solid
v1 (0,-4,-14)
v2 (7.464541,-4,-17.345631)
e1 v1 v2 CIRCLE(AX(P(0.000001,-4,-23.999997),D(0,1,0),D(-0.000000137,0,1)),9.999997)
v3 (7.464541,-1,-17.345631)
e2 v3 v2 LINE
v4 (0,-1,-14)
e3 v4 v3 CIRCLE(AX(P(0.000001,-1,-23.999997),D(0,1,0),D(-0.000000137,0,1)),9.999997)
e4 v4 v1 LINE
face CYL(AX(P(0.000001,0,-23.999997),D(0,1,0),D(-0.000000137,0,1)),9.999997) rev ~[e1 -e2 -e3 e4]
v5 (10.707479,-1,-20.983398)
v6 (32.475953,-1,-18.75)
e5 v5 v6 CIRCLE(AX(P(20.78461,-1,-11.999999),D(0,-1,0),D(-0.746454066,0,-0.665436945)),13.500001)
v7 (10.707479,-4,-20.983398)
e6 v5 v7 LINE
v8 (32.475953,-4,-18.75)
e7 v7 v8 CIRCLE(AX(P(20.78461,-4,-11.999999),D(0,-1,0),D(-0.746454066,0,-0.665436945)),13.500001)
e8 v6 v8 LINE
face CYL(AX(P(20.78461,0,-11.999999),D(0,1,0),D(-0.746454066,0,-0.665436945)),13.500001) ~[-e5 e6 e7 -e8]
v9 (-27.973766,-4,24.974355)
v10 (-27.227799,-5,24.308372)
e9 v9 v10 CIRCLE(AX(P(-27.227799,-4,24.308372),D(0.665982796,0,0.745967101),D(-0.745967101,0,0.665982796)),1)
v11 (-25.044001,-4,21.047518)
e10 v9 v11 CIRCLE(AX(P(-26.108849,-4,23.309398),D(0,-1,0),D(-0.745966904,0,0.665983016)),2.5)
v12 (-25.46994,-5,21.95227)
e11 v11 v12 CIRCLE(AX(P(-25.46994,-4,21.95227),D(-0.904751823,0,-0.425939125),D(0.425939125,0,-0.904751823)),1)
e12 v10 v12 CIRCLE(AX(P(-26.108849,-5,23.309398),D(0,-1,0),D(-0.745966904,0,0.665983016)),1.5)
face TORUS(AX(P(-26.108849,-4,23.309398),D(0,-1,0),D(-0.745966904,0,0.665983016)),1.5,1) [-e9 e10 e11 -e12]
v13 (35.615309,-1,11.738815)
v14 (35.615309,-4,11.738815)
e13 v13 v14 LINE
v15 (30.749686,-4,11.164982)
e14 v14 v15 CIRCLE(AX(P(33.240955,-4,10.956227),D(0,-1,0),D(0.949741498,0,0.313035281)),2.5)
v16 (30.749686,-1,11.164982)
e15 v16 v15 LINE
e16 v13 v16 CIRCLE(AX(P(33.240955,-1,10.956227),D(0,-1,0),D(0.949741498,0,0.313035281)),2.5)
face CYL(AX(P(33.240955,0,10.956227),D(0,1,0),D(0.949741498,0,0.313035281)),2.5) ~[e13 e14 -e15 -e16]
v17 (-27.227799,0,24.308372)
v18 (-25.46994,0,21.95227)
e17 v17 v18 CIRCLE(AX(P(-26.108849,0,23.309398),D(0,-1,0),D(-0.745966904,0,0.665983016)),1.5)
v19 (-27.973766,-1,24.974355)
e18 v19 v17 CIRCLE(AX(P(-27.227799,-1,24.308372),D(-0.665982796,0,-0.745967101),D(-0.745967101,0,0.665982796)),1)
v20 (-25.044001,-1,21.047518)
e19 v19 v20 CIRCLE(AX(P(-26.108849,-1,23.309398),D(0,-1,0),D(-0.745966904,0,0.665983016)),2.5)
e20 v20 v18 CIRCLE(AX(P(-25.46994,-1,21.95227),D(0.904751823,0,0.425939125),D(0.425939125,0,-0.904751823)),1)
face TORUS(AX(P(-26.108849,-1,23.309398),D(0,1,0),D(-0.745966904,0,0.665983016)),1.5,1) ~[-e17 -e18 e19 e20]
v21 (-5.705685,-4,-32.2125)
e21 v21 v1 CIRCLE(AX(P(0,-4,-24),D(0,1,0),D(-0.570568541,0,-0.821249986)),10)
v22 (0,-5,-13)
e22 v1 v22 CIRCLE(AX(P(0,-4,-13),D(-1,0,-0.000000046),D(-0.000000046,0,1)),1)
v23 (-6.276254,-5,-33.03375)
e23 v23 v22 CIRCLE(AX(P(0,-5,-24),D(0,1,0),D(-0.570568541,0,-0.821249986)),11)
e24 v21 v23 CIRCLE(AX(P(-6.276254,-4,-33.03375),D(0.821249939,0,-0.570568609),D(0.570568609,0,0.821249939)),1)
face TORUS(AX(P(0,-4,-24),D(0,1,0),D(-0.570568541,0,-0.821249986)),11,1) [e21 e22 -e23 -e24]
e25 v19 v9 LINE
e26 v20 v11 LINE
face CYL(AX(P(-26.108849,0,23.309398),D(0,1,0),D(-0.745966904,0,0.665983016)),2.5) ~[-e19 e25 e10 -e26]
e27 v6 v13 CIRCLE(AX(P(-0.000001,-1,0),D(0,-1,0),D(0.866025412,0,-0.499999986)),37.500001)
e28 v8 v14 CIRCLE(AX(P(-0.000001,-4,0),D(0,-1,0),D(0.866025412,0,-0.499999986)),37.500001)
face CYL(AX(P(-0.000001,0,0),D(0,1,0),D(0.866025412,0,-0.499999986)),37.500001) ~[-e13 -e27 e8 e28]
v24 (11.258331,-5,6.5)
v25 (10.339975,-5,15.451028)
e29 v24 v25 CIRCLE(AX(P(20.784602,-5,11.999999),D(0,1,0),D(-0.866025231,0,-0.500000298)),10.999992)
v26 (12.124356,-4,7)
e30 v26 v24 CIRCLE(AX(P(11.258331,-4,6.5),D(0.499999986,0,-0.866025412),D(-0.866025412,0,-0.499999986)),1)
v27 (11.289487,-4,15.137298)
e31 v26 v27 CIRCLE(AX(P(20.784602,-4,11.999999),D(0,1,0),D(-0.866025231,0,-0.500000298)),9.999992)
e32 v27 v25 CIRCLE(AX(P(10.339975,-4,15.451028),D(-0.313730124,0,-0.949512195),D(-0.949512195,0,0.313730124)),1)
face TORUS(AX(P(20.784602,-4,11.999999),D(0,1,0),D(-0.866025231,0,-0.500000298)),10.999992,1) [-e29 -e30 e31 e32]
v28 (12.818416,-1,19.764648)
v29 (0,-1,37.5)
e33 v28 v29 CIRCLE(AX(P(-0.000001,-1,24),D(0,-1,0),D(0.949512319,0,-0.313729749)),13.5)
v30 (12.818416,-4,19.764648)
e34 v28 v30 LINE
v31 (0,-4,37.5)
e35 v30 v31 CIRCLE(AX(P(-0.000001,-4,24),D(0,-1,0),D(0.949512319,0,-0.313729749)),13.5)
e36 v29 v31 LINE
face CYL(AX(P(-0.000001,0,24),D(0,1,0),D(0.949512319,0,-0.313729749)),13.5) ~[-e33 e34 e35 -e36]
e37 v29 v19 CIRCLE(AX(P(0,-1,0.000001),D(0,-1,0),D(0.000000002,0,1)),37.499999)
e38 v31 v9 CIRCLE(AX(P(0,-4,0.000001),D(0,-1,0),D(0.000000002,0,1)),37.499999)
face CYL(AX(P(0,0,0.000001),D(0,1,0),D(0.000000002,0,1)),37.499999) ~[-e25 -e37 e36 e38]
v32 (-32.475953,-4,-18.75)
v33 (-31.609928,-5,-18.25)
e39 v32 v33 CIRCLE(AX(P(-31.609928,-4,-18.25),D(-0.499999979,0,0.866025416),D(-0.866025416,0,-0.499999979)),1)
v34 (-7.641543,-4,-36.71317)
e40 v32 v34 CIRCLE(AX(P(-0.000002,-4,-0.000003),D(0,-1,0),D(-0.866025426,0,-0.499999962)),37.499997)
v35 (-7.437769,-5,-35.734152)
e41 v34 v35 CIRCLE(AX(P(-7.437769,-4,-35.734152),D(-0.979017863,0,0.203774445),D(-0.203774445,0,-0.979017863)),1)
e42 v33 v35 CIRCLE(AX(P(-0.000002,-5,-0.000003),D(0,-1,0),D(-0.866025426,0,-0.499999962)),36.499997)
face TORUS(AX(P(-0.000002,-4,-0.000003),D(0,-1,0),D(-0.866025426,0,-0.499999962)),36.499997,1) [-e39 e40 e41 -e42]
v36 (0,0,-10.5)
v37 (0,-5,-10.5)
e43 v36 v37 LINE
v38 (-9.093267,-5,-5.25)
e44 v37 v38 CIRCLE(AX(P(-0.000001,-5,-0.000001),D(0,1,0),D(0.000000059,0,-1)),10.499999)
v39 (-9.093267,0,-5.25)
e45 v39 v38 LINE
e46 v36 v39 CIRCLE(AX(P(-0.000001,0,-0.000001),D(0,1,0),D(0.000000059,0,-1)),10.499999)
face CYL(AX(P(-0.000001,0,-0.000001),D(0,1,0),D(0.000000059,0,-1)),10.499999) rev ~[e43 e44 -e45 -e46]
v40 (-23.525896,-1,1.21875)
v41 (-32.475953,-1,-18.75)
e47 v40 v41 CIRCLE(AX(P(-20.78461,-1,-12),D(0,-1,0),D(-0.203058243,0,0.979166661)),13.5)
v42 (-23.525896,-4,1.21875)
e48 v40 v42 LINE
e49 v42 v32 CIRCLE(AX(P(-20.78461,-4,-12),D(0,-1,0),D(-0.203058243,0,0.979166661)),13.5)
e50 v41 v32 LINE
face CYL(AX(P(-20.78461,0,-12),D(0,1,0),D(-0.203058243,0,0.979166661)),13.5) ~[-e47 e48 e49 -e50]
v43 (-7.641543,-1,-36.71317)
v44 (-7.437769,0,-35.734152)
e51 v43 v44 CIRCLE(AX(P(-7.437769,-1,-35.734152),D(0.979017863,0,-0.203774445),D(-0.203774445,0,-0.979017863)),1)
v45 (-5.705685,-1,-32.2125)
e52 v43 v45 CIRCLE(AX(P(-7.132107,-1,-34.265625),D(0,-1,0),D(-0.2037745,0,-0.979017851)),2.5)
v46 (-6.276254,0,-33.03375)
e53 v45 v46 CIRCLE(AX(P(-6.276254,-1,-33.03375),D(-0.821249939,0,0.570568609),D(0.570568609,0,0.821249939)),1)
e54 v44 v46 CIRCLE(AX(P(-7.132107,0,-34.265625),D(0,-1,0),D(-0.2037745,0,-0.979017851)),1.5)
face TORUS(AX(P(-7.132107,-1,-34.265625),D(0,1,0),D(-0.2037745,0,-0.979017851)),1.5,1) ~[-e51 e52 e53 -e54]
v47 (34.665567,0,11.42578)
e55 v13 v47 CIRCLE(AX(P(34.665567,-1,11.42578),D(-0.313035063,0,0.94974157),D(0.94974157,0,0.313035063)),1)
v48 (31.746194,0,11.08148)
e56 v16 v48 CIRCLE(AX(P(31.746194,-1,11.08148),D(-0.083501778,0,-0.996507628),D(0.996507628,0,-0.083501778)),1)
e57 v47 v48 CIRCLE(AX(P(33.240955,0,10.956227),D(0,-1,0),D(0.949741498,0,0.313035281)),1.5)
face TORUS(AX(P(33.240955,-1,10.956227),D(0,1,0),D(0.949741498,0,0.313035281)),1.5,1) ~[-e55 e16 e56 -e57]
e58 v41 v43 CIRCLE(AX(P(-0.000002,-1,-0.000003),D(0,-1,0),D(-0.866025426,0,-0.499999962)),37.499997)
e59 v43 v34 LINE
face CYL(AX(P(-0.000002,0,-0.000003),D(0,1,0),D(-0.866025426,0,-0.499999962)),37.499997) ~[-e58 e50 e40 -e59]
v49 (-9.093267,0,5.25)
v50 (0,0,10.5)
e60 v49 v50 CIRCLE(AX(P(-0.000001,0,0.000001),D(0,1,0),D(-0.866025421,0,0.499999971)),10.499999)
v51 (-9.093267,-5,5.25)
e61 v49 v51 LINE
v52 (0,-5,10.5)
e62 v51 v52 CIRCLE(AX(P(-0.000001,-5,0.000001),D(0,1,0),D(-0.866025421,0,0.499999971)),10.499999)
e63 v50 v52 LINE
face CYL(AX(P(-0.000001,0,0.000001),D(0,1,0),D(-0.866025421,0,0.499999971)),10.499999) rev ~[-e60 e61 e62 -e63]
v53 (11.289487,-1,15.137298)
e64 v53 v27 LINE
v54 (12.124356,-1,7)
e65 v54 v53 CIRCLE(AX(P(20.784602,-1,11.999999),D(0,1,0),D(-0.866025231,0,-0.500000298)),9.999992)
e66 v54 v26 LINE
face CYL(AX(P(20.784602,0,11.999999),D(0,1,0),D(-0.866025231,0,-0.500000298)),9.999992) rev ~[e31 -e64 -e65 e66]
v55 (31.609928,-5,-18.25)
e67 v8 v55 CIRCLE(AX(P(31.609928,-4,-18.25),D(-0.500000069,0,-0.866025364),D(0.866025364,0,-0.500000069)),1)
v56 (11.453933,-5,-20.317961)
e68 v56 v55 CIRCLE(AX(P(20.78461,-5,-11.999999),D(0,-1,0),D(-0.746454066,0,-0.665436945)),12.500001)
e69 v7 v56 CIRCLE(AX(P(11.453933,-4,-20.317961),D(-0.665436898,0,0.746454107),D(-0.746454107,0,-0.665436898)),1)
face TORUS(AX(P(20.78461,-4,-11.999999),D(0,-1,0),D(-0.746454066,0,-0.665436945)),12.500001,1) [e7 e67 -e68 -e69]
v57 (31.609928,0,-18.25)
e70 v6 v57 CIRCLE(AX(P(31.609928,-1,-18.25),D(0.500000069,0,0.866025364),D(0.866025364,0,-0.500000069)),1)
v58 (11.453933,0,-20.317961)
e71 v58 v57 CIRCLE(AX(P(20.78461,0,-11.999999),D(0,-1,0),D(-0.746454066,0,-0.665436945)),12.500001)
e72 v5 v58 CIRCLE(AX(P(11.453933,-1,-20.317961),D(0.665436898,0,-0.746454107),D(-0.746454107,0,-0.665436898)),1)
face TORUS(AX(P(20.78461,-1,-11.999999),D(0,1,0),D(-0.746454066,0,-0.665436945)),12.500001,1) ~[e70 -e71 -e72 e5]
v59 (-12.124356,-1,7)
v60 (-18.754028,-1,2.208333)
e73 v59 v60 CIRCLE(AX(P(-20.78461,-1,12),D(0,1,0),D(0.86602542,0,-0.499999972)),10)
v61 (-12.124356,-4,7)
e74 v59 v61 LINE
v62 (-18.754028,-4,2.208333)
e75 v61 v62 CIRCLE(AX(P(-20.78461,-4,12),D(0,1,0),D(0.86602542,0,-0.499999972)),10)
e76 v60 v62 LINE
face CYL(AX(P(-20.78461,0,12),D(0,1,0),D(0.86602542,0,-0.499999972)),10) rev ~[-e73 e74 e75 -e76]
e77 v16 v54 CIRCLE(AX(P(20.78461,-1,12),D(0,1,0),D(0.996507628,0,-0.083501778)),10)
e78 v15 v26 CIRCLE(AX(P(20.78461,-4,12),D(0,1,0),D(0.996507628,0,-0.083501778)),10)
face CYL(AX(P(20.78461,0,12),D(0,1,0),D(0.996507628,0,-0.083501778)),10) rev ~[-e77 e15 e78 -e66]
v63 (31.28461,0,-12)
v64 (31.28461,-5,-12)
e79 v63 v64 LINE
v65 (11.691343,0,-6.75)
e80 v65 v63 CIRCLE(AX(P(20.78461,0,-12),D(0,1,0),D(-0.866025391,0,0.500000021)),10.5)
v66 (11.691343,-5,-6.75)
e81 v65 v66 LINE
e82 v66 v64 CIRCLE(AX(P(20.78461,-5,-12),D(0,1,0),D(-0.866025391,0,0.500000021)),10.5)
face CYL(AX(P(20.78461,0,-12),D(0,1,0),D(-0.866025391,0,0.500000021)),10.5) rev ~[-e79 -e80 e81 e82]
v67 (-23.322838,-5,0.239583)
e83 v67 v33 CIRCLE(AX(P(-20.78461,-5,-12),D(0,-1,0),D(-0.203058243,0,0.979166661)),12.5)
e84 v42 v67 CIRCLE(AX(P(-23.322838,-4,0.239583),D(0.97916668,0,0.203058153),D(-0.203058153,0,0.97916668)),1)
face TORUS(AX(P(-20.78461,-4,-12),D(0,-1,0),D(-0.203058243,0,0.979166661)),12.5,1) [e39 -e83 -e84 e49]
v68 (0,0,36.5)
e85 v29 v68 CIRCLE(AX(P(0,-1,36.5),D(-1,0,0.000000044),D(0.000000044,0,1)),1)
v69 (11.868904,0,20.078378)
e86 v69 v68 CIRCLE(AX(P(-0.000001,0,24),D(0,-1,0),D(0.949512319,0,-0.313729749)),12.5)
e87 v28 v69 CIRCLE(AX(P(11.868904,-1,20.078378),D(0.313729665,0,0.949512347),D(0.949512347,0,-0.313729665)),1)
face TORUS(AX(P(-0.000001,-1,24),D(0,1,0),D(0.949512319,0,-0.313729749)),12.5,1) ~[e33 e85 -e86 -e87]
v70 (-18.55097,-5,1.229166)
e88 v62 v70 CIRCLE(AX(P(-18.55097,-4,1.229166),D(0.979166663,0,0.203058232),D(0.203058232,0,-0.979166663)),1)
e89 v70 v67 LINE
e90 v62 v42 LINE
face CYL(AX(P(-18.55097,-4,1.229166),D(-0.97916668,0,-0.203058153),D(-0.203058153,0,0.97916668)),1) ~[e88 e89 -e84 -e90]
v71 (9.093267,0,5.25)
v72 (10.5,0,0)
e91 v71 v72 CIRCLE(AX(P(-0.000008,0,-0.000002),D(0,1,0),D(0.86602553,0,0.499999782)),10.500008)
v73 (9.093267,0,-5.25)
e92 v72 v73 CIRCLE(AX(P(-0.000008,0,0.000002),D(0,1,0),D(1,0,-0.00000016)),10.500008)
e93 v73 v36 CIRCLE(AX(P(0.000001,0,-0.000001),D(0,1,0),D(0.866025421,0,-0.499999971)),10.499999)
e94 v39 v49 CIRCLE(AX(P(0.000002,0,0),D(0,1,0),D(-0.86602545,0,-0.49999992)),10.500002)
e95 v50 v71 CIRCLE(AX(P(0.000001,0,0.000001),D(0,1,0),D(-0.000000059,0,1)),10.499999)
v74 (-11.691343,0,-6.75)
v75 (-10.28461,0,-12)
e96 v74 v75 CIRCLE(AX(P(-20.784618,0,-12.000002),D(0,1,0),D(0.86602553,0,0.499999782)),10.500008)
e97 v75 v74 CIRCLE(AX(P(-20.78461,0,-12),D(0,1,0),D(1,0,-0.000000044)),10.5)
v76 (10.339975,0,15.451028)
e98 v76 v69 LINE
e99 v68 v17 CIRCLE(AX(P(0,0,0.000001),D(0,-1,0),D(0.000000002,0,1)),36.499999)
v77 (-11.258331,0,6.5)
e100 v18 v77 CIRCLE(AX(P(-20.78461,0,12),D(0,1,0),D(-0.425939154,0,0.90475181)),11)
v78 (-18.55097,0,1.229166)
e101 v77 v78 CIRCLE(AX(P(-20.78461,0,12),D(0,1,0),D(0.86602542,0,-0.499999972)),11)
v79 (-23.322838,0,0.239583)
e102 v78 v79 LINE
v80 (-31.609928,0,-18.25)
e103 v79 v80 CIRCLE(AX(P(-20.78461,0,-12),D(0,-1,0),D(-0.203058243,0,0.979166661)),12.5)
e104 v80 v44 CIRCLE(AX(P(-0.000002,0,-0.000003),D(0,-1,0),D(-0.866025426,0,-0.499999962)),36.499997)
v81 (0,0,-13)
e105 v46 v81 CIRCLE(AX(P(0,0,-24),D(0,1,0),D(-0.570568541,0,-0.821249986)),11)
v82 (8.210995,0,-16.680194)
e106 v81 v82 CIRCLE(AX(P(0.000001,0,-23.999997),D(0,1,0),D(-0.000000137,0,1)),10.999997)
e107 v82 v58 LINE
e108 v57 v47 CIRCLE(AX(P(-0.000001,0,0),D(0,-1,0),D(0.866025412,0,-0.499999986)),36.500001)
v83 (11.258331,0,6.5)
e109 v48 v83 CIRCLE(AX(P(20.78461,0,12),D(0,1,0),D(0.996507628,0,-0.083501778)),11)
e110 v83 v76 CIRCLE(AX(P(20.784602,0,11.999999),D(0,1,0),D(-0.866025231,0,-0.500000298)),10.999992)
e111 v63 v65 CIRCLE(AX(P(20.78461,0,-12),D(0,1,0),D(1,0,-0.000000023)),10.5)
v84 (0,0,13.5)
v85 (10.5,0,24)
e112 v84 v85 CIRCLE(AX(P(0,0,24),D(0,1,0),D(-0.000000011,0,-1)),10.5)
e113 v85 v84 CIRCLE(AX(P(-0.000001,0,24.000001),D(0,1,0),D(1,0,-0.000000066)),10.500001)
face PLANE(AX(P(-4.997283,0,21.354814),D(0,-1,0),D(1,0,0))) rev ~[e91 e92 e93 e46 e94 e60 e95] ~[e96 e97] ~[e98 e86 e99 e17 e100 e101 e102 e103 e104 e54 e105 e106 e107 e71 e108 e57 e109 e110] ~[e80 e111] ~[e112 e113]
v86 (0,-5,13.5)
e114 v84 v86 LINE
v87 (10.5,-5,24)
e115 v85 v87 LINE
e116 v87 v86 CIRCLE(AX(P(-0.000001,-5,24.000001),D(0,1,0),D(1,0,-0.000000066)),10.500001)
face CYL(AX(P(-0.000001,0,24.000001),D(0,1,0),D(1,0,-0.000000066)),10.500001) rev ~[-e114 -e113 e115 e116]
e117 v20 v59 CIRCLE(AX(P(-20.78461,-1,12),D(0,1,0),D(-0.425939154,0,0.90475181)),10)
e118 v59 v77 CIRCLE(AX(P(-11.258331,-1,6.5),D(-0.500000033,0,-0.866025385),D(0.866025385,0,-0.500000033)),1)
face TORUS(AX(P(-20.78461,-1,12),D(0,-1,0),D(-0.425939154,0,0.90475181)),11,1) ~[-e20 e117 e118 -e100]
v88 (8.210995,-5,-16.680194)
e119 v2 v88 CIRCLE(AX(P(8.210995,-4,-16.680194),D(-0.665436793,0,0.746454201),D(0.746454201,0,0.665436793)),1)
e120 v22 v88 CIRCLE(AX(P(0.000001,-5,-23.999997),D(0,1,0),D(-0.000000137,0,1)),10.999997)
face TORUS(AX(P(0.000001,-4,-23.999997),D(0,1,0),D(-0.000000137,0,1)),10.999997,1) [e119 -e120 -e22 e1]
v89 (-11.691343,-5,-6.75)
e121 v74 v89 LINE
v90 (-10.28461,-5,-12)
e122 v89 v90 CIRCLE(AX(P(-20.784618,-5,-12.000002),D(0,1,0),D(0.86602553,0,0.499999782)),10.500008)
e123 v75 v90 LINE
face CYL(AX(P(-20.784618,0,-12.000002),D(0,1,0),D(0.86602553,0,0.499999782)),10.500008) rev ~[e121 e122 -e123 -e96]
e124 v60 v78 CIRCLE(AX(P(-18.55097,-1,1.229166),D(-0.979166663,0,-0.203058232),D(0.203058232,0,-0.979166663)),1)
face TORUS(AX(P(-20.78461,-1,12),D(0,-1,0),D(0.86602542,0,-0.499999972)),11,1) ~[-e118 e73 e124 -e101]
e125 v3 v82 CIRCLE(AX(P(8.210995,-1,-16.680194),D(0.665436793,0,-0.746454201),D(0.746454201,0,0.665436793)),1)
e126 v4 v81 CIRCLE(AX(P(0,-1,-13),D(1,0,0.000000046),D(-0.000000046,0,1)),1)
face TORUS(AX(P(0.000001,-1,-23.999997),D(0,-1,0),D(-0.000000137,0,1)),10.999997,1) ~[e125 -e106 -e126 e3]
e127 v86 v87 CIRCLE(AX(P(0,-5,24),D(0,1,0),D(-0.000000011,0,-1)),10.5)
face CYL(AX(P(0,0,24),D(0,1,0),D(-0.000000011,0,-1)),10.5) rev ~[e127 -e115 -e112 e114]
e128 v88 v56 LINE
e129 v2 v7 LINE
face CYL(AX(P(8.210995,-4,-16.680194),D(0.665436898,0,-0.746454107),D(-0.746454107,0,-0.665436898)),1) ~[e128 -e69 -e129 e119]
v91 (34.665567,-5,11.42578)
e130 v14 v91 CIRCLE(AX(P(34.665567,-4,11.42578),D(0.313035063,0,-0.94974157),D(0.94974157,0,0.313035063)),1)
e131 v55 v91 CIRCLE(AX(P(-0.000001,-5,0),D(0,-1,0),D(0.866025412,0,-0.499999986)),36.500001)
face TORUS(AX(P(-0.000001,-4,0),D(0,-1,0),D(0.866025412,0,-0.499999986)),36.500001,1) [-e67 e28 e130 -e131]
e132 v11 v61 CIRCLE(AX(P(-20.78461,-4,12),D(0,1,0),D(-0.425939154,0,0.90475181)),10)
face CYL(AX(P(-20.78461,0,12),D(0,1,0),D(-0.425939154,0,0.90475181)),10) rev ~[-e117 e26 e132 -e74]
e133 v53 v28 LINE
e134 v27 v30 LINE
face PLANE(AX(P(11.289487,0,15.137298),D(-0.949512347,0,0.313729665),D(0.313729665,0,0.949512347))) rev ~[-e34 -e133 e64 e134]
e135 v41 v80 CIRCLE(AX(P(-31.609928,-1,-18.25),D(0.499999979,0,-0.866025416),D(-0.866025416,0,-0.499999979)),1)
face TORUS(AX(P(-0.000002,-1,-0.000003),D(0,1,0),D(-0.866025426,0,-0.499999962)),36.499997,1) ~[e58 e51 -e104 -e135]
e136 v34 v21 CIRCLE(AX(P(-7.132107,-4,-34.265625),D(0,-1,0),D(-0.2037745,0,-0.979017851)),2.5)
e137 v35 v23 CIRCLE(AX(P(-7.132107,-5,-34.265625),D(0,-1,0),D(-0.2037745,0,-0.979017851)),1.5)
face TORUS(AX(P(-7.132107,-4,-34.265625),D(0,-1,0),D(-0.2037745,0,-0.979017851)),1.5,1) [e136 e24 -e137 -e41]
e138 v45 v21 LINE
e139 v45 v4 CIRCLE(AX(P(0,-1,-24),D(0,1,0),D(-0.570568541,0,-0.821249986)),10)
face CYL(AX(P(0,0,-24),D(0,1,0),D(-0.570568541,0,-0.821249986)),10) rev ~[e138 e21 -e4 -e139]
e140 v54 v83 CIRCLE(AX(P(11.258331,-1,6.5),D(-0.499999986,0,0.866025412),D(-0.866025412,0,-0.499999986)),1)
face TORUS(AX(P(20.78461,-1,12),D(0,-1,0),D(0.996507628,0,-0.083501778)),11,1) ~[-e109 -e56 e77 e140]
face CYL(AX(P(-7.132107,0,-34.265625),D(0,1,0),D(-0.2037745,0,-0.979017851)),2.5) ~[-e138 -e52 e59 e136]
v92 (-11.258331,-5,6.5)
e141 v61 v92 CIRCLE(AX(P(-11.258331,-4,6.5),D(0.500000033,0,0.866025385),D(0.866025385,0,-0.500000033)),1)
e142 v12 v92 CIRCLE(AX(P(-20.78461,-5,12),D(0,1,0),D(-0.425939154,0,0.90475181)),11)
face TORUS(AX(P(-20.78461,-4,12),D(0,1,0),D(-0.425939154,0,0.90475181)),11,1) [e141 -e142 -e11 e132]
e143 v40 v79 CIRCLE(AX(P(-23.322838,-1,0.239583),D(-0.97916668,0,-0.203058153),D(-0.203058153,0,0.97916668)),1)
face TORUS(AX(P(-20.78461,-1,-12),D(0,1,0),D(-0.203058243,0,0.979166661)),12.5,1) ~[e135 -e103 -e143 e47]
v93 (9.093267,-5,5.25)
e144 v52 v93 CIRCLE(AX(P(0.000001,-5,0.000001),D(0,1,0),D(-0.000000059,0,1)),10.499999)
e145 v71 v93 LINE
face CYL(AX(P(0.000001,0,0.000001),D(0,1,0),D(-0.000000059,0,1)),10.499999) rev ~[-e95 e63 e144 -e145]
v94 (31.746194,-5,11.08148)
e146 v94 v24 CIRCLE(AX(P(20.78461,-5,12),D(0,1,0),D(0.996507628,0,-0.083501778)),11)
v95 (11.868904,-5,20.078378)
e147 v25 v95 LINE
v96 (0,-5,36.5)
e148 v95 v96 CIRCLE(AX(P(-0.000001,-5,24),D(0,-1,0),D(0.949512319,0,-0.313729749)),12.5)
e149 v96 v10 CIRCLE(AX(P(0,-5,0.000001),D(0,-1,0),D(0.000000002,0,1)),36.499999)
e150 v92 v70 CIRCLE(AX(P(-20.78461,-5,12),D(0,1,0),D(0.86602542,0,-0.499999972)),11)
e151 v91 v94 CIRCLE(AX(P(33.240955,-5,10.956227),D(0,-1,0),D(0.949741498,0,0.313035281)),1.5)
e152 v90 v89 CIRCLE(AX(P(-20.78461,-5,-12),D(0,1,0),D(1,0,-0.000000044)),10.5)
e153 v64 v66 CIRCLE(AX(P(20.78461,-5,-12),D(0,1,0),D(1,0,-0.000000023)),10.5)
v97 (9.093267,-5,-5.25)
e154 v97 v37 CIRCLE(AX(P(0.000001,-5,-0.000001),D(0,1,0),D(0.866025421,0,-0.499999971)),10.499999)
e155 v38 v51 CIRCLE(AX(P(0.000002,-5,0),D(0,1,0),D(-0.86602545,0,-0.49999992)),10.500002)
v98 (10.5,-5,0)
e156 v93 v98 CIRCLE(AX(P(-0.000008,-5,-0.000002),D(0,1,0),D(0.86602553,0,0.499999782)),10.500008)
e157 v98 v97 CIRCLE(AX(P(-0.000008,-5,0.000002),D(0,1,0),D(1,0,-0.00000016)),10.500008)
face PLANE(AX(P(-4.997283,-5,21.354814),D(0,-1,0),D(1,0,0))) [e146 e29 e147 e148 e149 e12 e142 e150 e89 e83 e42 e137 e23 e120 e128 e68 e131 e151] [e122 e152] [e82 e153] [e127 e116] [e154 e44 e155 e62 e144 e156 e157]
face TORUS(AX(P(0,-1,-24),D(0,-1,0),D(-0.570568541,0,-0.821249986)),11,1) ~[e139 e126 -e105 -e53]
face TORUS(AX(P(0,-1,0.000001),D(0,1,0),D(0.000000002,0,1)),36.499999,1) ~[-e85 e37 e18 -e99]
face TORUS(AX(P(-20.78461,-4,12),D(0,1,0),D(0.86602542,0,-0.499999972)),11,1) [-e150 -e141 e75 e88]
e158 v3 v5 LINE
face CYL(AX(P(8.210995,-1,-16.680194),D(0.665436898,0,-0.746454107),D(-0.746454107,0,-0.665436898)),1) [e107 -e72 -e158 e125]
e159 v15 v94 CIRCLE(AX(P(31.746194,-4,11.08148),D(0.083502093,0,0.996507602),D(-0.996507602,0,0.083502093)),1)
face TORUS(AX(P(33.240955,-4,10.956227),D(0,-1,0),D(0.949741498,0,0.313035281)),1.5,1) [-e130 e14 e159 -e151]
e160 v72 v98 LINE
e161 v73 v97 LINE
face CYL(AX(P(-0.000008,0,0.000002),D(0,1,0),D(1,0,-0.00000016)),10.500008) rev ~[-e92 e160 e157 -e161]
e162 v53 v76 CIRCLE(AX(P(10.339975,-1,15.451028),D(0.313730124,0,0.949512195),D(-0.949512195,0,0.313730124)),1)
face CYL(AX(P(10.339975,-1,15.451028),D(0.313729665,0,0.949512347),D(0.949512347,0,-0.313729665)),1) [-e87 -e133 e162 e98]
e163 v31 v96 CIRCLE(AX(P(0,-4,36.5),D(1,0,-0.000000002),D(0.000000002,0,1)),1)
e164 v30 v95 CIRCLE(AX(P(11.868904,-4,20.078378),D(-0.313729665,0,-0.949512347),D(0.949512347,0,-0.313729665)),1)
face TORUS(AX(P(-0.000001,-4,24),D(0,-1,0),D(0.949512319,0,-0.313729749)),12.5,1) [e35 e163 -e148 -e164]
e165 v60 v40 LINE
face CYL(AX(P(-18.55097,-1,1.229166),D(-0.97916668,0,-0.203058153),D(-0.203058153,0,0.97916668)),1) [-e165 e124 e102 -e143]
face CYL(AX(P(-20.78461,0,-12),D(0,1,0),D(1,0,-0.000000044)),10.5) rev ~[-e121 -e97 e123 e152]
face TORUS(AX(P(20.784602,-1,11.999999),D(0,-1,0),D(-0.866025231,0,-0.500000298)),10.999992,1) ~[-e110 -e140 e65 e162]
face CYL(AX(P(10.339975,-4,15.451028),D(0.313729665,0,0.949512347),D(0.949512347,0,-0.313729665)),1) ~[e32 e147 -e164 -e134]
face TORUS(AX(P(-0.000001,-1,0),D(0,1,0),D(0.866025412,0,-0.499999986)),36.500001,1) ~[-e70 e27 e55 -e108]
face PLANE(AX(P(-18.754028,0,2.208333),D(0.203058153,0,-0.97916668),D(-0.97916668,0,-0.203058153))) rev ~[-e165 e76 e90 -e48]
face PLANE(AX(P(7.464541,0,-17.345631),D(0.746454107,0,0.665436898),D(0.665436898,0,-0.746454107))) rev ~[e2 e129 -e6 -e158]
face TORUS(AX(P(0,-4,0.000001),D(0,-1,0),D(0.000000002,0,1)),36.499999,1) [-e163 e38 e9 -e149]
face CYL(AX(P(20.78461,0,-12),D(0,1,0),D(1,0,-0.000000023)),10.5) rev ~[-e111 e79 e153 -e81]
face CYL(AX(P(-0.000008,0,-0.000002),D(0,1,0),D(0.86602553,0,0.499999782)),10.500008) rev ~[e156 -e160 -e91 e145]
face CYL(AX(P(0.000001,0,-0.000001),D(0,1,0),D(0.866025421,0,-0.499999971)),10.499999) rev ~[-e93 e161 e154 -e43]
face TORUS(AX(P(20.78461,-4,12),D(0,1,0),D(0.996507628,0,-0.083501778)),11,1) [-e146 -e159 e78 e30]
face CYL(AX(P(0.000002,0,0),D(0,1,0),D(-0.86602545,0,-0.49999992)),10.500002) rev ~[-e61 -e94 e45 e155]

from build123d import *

# Parameters (mm, degrees)
F1_DEPTH = 5
F2_R     = 1


with BuildPart() as f1:
    # F0 (on Front) → F1 (new body)
    with BuildSketch(Plane.XZ):
        with BuildLine():
            ThreePointArc((12.818416, 19.764648), (10.941372, 31.907994), (0, 37.5))
            ThreePointArc((0, 37.5), (-15.325007, 34.225636), (-27.973766, 24.974355))
            ThreePointArc((-27.973766, 24.974355), (-28.112605, 21.814419), (-25.044001, 21.047518))
            ThreePointArc((-25.044001, 21.047518), (-13.424237, 18.76941), (-12.124356, 7))
            Line((-12.124356, 7), (-9.093267, 5.25))
            ThreePointArc((-9.093267, 5.25), (-5.25, 9.093267), (0, 10.5))
            ThreePointArc((0, 10.5), (5.25, 9.093267), (9.093267, 5.25))
            Line((9.093267, 5.25), (12.124356, 7))
            ThreePointArc((12.124356, 7), (10.836829, 10.979379), (11.289487, 15.137298))
            Line((11.289487, 15.137298), (12.818416, 19.764648))
        make_face()
        with BuildLine():
            ThreePointArc((10.5, 24), (7.424621, 16.575379), (0, 13.5))
            ThreePointArc((0, 13.5), (-7.424621, 31.424621), (10.5, 24))
        make_face(mode=Mode.SUBTRACT)
        with BuildLine():
            Line((-9.093267, 5.25), (-12.124356, 7))
            ThreePointArc((-12.124356, 7), (-14.926836, 3.89528), (-18.754028, 2.208333))
            Line((-18.754028, 2.208333), (-23.525896, 1.21875))
            ThreePointArc((-23.525896, 1.21875), (-33.10382, -6.478491), (-32.475953, -18.75))
            ThreePointArc((-32.475953, -18.75), (-21.977767, -30.384664), (-7.641543, -36.71317))
            ThreePointArc((-7.641543, -36.71317), (-4.835539, -35.25344), (-5.705685, -32.2125))
            ThreePointArc((-5.705685, -32.2125), (-9.542667, -21.010435), (0, -14))
            Line((0, -14), (0, -10.5))
            ThreePointArc((0, -10.5), (-5.25, -9.093267), (-9.093267, -5.25))
            ThreePointArc((-9.093267, -5.25), (-10.5, 0), (-9.093267, 5.25))
        make_face()
        with BuildLine():
            ThreePointArc((-10.28461, -12), (-30.926831, -14.7176), (-11.691343, -6.75))
            ThreePointArc((-11.691343, -6.75), (-10.642389, -9.2824), (-10.28461, -12))
        make_face(mode=Mode.SUBTRACT)
        with BuildLine():
            ThreePointArc((30.749686, 11.164982), (22.966904, 2.241025), (12.124356, 7))
            Line((12.124356, 7), (9.093267, 5.25))
            ThreePointArc((9.093267, 5.25), (10.142221, 2.7176), (10.5, 0))
            ThreePointArc((10.5, 0), (10.142221, -2.7176), (9.093267, -5.25))
            ThreePointArc((9.093267, -5.25), (5.25, -9.093267), (0, -10.5))
            Line((0, -10.5), (0, -14))
            ThreePointArc((0, -14), (4.090007, -14.874659), (7.464541, -17.345631))
            Line((7.464541, -17.345631), (10.707479, -20.983398))
            ThreePointArc((10.707479, -20.983398), (22.162448, -25.429503), (32.475953, -18.75))
            ThreePointArc((32.475953, -18.75), (37.302774, -3.840972), (35.615309, 11.738815))
            ThreePointArc((35.615309, 11.738815), (32.948144, 13.43902), (30.749686, 11.164982))
        make_face()
        with BuildLine():
            ThreePointArc((31.28461, -12), (18.06701, -22.142221), (11.691343, -6.75))
            ThreePointArc((11.691343, -6.75), (23.50221, -1.857779), (31.28461, -12))
        make_face(mode=Mode.SUBTRACT)
    extrude(amount=F1_DEPTH)

    # F2
    f2_edges = [f1.edges().sort_by_distance(p)[0] for p in [
        (-15.325007, -5, 34.225636),
        (18.7846, 0, 2.202043),
    ]]
    fillet(f2_edges, radius=F2_R)


solid = f1.part
